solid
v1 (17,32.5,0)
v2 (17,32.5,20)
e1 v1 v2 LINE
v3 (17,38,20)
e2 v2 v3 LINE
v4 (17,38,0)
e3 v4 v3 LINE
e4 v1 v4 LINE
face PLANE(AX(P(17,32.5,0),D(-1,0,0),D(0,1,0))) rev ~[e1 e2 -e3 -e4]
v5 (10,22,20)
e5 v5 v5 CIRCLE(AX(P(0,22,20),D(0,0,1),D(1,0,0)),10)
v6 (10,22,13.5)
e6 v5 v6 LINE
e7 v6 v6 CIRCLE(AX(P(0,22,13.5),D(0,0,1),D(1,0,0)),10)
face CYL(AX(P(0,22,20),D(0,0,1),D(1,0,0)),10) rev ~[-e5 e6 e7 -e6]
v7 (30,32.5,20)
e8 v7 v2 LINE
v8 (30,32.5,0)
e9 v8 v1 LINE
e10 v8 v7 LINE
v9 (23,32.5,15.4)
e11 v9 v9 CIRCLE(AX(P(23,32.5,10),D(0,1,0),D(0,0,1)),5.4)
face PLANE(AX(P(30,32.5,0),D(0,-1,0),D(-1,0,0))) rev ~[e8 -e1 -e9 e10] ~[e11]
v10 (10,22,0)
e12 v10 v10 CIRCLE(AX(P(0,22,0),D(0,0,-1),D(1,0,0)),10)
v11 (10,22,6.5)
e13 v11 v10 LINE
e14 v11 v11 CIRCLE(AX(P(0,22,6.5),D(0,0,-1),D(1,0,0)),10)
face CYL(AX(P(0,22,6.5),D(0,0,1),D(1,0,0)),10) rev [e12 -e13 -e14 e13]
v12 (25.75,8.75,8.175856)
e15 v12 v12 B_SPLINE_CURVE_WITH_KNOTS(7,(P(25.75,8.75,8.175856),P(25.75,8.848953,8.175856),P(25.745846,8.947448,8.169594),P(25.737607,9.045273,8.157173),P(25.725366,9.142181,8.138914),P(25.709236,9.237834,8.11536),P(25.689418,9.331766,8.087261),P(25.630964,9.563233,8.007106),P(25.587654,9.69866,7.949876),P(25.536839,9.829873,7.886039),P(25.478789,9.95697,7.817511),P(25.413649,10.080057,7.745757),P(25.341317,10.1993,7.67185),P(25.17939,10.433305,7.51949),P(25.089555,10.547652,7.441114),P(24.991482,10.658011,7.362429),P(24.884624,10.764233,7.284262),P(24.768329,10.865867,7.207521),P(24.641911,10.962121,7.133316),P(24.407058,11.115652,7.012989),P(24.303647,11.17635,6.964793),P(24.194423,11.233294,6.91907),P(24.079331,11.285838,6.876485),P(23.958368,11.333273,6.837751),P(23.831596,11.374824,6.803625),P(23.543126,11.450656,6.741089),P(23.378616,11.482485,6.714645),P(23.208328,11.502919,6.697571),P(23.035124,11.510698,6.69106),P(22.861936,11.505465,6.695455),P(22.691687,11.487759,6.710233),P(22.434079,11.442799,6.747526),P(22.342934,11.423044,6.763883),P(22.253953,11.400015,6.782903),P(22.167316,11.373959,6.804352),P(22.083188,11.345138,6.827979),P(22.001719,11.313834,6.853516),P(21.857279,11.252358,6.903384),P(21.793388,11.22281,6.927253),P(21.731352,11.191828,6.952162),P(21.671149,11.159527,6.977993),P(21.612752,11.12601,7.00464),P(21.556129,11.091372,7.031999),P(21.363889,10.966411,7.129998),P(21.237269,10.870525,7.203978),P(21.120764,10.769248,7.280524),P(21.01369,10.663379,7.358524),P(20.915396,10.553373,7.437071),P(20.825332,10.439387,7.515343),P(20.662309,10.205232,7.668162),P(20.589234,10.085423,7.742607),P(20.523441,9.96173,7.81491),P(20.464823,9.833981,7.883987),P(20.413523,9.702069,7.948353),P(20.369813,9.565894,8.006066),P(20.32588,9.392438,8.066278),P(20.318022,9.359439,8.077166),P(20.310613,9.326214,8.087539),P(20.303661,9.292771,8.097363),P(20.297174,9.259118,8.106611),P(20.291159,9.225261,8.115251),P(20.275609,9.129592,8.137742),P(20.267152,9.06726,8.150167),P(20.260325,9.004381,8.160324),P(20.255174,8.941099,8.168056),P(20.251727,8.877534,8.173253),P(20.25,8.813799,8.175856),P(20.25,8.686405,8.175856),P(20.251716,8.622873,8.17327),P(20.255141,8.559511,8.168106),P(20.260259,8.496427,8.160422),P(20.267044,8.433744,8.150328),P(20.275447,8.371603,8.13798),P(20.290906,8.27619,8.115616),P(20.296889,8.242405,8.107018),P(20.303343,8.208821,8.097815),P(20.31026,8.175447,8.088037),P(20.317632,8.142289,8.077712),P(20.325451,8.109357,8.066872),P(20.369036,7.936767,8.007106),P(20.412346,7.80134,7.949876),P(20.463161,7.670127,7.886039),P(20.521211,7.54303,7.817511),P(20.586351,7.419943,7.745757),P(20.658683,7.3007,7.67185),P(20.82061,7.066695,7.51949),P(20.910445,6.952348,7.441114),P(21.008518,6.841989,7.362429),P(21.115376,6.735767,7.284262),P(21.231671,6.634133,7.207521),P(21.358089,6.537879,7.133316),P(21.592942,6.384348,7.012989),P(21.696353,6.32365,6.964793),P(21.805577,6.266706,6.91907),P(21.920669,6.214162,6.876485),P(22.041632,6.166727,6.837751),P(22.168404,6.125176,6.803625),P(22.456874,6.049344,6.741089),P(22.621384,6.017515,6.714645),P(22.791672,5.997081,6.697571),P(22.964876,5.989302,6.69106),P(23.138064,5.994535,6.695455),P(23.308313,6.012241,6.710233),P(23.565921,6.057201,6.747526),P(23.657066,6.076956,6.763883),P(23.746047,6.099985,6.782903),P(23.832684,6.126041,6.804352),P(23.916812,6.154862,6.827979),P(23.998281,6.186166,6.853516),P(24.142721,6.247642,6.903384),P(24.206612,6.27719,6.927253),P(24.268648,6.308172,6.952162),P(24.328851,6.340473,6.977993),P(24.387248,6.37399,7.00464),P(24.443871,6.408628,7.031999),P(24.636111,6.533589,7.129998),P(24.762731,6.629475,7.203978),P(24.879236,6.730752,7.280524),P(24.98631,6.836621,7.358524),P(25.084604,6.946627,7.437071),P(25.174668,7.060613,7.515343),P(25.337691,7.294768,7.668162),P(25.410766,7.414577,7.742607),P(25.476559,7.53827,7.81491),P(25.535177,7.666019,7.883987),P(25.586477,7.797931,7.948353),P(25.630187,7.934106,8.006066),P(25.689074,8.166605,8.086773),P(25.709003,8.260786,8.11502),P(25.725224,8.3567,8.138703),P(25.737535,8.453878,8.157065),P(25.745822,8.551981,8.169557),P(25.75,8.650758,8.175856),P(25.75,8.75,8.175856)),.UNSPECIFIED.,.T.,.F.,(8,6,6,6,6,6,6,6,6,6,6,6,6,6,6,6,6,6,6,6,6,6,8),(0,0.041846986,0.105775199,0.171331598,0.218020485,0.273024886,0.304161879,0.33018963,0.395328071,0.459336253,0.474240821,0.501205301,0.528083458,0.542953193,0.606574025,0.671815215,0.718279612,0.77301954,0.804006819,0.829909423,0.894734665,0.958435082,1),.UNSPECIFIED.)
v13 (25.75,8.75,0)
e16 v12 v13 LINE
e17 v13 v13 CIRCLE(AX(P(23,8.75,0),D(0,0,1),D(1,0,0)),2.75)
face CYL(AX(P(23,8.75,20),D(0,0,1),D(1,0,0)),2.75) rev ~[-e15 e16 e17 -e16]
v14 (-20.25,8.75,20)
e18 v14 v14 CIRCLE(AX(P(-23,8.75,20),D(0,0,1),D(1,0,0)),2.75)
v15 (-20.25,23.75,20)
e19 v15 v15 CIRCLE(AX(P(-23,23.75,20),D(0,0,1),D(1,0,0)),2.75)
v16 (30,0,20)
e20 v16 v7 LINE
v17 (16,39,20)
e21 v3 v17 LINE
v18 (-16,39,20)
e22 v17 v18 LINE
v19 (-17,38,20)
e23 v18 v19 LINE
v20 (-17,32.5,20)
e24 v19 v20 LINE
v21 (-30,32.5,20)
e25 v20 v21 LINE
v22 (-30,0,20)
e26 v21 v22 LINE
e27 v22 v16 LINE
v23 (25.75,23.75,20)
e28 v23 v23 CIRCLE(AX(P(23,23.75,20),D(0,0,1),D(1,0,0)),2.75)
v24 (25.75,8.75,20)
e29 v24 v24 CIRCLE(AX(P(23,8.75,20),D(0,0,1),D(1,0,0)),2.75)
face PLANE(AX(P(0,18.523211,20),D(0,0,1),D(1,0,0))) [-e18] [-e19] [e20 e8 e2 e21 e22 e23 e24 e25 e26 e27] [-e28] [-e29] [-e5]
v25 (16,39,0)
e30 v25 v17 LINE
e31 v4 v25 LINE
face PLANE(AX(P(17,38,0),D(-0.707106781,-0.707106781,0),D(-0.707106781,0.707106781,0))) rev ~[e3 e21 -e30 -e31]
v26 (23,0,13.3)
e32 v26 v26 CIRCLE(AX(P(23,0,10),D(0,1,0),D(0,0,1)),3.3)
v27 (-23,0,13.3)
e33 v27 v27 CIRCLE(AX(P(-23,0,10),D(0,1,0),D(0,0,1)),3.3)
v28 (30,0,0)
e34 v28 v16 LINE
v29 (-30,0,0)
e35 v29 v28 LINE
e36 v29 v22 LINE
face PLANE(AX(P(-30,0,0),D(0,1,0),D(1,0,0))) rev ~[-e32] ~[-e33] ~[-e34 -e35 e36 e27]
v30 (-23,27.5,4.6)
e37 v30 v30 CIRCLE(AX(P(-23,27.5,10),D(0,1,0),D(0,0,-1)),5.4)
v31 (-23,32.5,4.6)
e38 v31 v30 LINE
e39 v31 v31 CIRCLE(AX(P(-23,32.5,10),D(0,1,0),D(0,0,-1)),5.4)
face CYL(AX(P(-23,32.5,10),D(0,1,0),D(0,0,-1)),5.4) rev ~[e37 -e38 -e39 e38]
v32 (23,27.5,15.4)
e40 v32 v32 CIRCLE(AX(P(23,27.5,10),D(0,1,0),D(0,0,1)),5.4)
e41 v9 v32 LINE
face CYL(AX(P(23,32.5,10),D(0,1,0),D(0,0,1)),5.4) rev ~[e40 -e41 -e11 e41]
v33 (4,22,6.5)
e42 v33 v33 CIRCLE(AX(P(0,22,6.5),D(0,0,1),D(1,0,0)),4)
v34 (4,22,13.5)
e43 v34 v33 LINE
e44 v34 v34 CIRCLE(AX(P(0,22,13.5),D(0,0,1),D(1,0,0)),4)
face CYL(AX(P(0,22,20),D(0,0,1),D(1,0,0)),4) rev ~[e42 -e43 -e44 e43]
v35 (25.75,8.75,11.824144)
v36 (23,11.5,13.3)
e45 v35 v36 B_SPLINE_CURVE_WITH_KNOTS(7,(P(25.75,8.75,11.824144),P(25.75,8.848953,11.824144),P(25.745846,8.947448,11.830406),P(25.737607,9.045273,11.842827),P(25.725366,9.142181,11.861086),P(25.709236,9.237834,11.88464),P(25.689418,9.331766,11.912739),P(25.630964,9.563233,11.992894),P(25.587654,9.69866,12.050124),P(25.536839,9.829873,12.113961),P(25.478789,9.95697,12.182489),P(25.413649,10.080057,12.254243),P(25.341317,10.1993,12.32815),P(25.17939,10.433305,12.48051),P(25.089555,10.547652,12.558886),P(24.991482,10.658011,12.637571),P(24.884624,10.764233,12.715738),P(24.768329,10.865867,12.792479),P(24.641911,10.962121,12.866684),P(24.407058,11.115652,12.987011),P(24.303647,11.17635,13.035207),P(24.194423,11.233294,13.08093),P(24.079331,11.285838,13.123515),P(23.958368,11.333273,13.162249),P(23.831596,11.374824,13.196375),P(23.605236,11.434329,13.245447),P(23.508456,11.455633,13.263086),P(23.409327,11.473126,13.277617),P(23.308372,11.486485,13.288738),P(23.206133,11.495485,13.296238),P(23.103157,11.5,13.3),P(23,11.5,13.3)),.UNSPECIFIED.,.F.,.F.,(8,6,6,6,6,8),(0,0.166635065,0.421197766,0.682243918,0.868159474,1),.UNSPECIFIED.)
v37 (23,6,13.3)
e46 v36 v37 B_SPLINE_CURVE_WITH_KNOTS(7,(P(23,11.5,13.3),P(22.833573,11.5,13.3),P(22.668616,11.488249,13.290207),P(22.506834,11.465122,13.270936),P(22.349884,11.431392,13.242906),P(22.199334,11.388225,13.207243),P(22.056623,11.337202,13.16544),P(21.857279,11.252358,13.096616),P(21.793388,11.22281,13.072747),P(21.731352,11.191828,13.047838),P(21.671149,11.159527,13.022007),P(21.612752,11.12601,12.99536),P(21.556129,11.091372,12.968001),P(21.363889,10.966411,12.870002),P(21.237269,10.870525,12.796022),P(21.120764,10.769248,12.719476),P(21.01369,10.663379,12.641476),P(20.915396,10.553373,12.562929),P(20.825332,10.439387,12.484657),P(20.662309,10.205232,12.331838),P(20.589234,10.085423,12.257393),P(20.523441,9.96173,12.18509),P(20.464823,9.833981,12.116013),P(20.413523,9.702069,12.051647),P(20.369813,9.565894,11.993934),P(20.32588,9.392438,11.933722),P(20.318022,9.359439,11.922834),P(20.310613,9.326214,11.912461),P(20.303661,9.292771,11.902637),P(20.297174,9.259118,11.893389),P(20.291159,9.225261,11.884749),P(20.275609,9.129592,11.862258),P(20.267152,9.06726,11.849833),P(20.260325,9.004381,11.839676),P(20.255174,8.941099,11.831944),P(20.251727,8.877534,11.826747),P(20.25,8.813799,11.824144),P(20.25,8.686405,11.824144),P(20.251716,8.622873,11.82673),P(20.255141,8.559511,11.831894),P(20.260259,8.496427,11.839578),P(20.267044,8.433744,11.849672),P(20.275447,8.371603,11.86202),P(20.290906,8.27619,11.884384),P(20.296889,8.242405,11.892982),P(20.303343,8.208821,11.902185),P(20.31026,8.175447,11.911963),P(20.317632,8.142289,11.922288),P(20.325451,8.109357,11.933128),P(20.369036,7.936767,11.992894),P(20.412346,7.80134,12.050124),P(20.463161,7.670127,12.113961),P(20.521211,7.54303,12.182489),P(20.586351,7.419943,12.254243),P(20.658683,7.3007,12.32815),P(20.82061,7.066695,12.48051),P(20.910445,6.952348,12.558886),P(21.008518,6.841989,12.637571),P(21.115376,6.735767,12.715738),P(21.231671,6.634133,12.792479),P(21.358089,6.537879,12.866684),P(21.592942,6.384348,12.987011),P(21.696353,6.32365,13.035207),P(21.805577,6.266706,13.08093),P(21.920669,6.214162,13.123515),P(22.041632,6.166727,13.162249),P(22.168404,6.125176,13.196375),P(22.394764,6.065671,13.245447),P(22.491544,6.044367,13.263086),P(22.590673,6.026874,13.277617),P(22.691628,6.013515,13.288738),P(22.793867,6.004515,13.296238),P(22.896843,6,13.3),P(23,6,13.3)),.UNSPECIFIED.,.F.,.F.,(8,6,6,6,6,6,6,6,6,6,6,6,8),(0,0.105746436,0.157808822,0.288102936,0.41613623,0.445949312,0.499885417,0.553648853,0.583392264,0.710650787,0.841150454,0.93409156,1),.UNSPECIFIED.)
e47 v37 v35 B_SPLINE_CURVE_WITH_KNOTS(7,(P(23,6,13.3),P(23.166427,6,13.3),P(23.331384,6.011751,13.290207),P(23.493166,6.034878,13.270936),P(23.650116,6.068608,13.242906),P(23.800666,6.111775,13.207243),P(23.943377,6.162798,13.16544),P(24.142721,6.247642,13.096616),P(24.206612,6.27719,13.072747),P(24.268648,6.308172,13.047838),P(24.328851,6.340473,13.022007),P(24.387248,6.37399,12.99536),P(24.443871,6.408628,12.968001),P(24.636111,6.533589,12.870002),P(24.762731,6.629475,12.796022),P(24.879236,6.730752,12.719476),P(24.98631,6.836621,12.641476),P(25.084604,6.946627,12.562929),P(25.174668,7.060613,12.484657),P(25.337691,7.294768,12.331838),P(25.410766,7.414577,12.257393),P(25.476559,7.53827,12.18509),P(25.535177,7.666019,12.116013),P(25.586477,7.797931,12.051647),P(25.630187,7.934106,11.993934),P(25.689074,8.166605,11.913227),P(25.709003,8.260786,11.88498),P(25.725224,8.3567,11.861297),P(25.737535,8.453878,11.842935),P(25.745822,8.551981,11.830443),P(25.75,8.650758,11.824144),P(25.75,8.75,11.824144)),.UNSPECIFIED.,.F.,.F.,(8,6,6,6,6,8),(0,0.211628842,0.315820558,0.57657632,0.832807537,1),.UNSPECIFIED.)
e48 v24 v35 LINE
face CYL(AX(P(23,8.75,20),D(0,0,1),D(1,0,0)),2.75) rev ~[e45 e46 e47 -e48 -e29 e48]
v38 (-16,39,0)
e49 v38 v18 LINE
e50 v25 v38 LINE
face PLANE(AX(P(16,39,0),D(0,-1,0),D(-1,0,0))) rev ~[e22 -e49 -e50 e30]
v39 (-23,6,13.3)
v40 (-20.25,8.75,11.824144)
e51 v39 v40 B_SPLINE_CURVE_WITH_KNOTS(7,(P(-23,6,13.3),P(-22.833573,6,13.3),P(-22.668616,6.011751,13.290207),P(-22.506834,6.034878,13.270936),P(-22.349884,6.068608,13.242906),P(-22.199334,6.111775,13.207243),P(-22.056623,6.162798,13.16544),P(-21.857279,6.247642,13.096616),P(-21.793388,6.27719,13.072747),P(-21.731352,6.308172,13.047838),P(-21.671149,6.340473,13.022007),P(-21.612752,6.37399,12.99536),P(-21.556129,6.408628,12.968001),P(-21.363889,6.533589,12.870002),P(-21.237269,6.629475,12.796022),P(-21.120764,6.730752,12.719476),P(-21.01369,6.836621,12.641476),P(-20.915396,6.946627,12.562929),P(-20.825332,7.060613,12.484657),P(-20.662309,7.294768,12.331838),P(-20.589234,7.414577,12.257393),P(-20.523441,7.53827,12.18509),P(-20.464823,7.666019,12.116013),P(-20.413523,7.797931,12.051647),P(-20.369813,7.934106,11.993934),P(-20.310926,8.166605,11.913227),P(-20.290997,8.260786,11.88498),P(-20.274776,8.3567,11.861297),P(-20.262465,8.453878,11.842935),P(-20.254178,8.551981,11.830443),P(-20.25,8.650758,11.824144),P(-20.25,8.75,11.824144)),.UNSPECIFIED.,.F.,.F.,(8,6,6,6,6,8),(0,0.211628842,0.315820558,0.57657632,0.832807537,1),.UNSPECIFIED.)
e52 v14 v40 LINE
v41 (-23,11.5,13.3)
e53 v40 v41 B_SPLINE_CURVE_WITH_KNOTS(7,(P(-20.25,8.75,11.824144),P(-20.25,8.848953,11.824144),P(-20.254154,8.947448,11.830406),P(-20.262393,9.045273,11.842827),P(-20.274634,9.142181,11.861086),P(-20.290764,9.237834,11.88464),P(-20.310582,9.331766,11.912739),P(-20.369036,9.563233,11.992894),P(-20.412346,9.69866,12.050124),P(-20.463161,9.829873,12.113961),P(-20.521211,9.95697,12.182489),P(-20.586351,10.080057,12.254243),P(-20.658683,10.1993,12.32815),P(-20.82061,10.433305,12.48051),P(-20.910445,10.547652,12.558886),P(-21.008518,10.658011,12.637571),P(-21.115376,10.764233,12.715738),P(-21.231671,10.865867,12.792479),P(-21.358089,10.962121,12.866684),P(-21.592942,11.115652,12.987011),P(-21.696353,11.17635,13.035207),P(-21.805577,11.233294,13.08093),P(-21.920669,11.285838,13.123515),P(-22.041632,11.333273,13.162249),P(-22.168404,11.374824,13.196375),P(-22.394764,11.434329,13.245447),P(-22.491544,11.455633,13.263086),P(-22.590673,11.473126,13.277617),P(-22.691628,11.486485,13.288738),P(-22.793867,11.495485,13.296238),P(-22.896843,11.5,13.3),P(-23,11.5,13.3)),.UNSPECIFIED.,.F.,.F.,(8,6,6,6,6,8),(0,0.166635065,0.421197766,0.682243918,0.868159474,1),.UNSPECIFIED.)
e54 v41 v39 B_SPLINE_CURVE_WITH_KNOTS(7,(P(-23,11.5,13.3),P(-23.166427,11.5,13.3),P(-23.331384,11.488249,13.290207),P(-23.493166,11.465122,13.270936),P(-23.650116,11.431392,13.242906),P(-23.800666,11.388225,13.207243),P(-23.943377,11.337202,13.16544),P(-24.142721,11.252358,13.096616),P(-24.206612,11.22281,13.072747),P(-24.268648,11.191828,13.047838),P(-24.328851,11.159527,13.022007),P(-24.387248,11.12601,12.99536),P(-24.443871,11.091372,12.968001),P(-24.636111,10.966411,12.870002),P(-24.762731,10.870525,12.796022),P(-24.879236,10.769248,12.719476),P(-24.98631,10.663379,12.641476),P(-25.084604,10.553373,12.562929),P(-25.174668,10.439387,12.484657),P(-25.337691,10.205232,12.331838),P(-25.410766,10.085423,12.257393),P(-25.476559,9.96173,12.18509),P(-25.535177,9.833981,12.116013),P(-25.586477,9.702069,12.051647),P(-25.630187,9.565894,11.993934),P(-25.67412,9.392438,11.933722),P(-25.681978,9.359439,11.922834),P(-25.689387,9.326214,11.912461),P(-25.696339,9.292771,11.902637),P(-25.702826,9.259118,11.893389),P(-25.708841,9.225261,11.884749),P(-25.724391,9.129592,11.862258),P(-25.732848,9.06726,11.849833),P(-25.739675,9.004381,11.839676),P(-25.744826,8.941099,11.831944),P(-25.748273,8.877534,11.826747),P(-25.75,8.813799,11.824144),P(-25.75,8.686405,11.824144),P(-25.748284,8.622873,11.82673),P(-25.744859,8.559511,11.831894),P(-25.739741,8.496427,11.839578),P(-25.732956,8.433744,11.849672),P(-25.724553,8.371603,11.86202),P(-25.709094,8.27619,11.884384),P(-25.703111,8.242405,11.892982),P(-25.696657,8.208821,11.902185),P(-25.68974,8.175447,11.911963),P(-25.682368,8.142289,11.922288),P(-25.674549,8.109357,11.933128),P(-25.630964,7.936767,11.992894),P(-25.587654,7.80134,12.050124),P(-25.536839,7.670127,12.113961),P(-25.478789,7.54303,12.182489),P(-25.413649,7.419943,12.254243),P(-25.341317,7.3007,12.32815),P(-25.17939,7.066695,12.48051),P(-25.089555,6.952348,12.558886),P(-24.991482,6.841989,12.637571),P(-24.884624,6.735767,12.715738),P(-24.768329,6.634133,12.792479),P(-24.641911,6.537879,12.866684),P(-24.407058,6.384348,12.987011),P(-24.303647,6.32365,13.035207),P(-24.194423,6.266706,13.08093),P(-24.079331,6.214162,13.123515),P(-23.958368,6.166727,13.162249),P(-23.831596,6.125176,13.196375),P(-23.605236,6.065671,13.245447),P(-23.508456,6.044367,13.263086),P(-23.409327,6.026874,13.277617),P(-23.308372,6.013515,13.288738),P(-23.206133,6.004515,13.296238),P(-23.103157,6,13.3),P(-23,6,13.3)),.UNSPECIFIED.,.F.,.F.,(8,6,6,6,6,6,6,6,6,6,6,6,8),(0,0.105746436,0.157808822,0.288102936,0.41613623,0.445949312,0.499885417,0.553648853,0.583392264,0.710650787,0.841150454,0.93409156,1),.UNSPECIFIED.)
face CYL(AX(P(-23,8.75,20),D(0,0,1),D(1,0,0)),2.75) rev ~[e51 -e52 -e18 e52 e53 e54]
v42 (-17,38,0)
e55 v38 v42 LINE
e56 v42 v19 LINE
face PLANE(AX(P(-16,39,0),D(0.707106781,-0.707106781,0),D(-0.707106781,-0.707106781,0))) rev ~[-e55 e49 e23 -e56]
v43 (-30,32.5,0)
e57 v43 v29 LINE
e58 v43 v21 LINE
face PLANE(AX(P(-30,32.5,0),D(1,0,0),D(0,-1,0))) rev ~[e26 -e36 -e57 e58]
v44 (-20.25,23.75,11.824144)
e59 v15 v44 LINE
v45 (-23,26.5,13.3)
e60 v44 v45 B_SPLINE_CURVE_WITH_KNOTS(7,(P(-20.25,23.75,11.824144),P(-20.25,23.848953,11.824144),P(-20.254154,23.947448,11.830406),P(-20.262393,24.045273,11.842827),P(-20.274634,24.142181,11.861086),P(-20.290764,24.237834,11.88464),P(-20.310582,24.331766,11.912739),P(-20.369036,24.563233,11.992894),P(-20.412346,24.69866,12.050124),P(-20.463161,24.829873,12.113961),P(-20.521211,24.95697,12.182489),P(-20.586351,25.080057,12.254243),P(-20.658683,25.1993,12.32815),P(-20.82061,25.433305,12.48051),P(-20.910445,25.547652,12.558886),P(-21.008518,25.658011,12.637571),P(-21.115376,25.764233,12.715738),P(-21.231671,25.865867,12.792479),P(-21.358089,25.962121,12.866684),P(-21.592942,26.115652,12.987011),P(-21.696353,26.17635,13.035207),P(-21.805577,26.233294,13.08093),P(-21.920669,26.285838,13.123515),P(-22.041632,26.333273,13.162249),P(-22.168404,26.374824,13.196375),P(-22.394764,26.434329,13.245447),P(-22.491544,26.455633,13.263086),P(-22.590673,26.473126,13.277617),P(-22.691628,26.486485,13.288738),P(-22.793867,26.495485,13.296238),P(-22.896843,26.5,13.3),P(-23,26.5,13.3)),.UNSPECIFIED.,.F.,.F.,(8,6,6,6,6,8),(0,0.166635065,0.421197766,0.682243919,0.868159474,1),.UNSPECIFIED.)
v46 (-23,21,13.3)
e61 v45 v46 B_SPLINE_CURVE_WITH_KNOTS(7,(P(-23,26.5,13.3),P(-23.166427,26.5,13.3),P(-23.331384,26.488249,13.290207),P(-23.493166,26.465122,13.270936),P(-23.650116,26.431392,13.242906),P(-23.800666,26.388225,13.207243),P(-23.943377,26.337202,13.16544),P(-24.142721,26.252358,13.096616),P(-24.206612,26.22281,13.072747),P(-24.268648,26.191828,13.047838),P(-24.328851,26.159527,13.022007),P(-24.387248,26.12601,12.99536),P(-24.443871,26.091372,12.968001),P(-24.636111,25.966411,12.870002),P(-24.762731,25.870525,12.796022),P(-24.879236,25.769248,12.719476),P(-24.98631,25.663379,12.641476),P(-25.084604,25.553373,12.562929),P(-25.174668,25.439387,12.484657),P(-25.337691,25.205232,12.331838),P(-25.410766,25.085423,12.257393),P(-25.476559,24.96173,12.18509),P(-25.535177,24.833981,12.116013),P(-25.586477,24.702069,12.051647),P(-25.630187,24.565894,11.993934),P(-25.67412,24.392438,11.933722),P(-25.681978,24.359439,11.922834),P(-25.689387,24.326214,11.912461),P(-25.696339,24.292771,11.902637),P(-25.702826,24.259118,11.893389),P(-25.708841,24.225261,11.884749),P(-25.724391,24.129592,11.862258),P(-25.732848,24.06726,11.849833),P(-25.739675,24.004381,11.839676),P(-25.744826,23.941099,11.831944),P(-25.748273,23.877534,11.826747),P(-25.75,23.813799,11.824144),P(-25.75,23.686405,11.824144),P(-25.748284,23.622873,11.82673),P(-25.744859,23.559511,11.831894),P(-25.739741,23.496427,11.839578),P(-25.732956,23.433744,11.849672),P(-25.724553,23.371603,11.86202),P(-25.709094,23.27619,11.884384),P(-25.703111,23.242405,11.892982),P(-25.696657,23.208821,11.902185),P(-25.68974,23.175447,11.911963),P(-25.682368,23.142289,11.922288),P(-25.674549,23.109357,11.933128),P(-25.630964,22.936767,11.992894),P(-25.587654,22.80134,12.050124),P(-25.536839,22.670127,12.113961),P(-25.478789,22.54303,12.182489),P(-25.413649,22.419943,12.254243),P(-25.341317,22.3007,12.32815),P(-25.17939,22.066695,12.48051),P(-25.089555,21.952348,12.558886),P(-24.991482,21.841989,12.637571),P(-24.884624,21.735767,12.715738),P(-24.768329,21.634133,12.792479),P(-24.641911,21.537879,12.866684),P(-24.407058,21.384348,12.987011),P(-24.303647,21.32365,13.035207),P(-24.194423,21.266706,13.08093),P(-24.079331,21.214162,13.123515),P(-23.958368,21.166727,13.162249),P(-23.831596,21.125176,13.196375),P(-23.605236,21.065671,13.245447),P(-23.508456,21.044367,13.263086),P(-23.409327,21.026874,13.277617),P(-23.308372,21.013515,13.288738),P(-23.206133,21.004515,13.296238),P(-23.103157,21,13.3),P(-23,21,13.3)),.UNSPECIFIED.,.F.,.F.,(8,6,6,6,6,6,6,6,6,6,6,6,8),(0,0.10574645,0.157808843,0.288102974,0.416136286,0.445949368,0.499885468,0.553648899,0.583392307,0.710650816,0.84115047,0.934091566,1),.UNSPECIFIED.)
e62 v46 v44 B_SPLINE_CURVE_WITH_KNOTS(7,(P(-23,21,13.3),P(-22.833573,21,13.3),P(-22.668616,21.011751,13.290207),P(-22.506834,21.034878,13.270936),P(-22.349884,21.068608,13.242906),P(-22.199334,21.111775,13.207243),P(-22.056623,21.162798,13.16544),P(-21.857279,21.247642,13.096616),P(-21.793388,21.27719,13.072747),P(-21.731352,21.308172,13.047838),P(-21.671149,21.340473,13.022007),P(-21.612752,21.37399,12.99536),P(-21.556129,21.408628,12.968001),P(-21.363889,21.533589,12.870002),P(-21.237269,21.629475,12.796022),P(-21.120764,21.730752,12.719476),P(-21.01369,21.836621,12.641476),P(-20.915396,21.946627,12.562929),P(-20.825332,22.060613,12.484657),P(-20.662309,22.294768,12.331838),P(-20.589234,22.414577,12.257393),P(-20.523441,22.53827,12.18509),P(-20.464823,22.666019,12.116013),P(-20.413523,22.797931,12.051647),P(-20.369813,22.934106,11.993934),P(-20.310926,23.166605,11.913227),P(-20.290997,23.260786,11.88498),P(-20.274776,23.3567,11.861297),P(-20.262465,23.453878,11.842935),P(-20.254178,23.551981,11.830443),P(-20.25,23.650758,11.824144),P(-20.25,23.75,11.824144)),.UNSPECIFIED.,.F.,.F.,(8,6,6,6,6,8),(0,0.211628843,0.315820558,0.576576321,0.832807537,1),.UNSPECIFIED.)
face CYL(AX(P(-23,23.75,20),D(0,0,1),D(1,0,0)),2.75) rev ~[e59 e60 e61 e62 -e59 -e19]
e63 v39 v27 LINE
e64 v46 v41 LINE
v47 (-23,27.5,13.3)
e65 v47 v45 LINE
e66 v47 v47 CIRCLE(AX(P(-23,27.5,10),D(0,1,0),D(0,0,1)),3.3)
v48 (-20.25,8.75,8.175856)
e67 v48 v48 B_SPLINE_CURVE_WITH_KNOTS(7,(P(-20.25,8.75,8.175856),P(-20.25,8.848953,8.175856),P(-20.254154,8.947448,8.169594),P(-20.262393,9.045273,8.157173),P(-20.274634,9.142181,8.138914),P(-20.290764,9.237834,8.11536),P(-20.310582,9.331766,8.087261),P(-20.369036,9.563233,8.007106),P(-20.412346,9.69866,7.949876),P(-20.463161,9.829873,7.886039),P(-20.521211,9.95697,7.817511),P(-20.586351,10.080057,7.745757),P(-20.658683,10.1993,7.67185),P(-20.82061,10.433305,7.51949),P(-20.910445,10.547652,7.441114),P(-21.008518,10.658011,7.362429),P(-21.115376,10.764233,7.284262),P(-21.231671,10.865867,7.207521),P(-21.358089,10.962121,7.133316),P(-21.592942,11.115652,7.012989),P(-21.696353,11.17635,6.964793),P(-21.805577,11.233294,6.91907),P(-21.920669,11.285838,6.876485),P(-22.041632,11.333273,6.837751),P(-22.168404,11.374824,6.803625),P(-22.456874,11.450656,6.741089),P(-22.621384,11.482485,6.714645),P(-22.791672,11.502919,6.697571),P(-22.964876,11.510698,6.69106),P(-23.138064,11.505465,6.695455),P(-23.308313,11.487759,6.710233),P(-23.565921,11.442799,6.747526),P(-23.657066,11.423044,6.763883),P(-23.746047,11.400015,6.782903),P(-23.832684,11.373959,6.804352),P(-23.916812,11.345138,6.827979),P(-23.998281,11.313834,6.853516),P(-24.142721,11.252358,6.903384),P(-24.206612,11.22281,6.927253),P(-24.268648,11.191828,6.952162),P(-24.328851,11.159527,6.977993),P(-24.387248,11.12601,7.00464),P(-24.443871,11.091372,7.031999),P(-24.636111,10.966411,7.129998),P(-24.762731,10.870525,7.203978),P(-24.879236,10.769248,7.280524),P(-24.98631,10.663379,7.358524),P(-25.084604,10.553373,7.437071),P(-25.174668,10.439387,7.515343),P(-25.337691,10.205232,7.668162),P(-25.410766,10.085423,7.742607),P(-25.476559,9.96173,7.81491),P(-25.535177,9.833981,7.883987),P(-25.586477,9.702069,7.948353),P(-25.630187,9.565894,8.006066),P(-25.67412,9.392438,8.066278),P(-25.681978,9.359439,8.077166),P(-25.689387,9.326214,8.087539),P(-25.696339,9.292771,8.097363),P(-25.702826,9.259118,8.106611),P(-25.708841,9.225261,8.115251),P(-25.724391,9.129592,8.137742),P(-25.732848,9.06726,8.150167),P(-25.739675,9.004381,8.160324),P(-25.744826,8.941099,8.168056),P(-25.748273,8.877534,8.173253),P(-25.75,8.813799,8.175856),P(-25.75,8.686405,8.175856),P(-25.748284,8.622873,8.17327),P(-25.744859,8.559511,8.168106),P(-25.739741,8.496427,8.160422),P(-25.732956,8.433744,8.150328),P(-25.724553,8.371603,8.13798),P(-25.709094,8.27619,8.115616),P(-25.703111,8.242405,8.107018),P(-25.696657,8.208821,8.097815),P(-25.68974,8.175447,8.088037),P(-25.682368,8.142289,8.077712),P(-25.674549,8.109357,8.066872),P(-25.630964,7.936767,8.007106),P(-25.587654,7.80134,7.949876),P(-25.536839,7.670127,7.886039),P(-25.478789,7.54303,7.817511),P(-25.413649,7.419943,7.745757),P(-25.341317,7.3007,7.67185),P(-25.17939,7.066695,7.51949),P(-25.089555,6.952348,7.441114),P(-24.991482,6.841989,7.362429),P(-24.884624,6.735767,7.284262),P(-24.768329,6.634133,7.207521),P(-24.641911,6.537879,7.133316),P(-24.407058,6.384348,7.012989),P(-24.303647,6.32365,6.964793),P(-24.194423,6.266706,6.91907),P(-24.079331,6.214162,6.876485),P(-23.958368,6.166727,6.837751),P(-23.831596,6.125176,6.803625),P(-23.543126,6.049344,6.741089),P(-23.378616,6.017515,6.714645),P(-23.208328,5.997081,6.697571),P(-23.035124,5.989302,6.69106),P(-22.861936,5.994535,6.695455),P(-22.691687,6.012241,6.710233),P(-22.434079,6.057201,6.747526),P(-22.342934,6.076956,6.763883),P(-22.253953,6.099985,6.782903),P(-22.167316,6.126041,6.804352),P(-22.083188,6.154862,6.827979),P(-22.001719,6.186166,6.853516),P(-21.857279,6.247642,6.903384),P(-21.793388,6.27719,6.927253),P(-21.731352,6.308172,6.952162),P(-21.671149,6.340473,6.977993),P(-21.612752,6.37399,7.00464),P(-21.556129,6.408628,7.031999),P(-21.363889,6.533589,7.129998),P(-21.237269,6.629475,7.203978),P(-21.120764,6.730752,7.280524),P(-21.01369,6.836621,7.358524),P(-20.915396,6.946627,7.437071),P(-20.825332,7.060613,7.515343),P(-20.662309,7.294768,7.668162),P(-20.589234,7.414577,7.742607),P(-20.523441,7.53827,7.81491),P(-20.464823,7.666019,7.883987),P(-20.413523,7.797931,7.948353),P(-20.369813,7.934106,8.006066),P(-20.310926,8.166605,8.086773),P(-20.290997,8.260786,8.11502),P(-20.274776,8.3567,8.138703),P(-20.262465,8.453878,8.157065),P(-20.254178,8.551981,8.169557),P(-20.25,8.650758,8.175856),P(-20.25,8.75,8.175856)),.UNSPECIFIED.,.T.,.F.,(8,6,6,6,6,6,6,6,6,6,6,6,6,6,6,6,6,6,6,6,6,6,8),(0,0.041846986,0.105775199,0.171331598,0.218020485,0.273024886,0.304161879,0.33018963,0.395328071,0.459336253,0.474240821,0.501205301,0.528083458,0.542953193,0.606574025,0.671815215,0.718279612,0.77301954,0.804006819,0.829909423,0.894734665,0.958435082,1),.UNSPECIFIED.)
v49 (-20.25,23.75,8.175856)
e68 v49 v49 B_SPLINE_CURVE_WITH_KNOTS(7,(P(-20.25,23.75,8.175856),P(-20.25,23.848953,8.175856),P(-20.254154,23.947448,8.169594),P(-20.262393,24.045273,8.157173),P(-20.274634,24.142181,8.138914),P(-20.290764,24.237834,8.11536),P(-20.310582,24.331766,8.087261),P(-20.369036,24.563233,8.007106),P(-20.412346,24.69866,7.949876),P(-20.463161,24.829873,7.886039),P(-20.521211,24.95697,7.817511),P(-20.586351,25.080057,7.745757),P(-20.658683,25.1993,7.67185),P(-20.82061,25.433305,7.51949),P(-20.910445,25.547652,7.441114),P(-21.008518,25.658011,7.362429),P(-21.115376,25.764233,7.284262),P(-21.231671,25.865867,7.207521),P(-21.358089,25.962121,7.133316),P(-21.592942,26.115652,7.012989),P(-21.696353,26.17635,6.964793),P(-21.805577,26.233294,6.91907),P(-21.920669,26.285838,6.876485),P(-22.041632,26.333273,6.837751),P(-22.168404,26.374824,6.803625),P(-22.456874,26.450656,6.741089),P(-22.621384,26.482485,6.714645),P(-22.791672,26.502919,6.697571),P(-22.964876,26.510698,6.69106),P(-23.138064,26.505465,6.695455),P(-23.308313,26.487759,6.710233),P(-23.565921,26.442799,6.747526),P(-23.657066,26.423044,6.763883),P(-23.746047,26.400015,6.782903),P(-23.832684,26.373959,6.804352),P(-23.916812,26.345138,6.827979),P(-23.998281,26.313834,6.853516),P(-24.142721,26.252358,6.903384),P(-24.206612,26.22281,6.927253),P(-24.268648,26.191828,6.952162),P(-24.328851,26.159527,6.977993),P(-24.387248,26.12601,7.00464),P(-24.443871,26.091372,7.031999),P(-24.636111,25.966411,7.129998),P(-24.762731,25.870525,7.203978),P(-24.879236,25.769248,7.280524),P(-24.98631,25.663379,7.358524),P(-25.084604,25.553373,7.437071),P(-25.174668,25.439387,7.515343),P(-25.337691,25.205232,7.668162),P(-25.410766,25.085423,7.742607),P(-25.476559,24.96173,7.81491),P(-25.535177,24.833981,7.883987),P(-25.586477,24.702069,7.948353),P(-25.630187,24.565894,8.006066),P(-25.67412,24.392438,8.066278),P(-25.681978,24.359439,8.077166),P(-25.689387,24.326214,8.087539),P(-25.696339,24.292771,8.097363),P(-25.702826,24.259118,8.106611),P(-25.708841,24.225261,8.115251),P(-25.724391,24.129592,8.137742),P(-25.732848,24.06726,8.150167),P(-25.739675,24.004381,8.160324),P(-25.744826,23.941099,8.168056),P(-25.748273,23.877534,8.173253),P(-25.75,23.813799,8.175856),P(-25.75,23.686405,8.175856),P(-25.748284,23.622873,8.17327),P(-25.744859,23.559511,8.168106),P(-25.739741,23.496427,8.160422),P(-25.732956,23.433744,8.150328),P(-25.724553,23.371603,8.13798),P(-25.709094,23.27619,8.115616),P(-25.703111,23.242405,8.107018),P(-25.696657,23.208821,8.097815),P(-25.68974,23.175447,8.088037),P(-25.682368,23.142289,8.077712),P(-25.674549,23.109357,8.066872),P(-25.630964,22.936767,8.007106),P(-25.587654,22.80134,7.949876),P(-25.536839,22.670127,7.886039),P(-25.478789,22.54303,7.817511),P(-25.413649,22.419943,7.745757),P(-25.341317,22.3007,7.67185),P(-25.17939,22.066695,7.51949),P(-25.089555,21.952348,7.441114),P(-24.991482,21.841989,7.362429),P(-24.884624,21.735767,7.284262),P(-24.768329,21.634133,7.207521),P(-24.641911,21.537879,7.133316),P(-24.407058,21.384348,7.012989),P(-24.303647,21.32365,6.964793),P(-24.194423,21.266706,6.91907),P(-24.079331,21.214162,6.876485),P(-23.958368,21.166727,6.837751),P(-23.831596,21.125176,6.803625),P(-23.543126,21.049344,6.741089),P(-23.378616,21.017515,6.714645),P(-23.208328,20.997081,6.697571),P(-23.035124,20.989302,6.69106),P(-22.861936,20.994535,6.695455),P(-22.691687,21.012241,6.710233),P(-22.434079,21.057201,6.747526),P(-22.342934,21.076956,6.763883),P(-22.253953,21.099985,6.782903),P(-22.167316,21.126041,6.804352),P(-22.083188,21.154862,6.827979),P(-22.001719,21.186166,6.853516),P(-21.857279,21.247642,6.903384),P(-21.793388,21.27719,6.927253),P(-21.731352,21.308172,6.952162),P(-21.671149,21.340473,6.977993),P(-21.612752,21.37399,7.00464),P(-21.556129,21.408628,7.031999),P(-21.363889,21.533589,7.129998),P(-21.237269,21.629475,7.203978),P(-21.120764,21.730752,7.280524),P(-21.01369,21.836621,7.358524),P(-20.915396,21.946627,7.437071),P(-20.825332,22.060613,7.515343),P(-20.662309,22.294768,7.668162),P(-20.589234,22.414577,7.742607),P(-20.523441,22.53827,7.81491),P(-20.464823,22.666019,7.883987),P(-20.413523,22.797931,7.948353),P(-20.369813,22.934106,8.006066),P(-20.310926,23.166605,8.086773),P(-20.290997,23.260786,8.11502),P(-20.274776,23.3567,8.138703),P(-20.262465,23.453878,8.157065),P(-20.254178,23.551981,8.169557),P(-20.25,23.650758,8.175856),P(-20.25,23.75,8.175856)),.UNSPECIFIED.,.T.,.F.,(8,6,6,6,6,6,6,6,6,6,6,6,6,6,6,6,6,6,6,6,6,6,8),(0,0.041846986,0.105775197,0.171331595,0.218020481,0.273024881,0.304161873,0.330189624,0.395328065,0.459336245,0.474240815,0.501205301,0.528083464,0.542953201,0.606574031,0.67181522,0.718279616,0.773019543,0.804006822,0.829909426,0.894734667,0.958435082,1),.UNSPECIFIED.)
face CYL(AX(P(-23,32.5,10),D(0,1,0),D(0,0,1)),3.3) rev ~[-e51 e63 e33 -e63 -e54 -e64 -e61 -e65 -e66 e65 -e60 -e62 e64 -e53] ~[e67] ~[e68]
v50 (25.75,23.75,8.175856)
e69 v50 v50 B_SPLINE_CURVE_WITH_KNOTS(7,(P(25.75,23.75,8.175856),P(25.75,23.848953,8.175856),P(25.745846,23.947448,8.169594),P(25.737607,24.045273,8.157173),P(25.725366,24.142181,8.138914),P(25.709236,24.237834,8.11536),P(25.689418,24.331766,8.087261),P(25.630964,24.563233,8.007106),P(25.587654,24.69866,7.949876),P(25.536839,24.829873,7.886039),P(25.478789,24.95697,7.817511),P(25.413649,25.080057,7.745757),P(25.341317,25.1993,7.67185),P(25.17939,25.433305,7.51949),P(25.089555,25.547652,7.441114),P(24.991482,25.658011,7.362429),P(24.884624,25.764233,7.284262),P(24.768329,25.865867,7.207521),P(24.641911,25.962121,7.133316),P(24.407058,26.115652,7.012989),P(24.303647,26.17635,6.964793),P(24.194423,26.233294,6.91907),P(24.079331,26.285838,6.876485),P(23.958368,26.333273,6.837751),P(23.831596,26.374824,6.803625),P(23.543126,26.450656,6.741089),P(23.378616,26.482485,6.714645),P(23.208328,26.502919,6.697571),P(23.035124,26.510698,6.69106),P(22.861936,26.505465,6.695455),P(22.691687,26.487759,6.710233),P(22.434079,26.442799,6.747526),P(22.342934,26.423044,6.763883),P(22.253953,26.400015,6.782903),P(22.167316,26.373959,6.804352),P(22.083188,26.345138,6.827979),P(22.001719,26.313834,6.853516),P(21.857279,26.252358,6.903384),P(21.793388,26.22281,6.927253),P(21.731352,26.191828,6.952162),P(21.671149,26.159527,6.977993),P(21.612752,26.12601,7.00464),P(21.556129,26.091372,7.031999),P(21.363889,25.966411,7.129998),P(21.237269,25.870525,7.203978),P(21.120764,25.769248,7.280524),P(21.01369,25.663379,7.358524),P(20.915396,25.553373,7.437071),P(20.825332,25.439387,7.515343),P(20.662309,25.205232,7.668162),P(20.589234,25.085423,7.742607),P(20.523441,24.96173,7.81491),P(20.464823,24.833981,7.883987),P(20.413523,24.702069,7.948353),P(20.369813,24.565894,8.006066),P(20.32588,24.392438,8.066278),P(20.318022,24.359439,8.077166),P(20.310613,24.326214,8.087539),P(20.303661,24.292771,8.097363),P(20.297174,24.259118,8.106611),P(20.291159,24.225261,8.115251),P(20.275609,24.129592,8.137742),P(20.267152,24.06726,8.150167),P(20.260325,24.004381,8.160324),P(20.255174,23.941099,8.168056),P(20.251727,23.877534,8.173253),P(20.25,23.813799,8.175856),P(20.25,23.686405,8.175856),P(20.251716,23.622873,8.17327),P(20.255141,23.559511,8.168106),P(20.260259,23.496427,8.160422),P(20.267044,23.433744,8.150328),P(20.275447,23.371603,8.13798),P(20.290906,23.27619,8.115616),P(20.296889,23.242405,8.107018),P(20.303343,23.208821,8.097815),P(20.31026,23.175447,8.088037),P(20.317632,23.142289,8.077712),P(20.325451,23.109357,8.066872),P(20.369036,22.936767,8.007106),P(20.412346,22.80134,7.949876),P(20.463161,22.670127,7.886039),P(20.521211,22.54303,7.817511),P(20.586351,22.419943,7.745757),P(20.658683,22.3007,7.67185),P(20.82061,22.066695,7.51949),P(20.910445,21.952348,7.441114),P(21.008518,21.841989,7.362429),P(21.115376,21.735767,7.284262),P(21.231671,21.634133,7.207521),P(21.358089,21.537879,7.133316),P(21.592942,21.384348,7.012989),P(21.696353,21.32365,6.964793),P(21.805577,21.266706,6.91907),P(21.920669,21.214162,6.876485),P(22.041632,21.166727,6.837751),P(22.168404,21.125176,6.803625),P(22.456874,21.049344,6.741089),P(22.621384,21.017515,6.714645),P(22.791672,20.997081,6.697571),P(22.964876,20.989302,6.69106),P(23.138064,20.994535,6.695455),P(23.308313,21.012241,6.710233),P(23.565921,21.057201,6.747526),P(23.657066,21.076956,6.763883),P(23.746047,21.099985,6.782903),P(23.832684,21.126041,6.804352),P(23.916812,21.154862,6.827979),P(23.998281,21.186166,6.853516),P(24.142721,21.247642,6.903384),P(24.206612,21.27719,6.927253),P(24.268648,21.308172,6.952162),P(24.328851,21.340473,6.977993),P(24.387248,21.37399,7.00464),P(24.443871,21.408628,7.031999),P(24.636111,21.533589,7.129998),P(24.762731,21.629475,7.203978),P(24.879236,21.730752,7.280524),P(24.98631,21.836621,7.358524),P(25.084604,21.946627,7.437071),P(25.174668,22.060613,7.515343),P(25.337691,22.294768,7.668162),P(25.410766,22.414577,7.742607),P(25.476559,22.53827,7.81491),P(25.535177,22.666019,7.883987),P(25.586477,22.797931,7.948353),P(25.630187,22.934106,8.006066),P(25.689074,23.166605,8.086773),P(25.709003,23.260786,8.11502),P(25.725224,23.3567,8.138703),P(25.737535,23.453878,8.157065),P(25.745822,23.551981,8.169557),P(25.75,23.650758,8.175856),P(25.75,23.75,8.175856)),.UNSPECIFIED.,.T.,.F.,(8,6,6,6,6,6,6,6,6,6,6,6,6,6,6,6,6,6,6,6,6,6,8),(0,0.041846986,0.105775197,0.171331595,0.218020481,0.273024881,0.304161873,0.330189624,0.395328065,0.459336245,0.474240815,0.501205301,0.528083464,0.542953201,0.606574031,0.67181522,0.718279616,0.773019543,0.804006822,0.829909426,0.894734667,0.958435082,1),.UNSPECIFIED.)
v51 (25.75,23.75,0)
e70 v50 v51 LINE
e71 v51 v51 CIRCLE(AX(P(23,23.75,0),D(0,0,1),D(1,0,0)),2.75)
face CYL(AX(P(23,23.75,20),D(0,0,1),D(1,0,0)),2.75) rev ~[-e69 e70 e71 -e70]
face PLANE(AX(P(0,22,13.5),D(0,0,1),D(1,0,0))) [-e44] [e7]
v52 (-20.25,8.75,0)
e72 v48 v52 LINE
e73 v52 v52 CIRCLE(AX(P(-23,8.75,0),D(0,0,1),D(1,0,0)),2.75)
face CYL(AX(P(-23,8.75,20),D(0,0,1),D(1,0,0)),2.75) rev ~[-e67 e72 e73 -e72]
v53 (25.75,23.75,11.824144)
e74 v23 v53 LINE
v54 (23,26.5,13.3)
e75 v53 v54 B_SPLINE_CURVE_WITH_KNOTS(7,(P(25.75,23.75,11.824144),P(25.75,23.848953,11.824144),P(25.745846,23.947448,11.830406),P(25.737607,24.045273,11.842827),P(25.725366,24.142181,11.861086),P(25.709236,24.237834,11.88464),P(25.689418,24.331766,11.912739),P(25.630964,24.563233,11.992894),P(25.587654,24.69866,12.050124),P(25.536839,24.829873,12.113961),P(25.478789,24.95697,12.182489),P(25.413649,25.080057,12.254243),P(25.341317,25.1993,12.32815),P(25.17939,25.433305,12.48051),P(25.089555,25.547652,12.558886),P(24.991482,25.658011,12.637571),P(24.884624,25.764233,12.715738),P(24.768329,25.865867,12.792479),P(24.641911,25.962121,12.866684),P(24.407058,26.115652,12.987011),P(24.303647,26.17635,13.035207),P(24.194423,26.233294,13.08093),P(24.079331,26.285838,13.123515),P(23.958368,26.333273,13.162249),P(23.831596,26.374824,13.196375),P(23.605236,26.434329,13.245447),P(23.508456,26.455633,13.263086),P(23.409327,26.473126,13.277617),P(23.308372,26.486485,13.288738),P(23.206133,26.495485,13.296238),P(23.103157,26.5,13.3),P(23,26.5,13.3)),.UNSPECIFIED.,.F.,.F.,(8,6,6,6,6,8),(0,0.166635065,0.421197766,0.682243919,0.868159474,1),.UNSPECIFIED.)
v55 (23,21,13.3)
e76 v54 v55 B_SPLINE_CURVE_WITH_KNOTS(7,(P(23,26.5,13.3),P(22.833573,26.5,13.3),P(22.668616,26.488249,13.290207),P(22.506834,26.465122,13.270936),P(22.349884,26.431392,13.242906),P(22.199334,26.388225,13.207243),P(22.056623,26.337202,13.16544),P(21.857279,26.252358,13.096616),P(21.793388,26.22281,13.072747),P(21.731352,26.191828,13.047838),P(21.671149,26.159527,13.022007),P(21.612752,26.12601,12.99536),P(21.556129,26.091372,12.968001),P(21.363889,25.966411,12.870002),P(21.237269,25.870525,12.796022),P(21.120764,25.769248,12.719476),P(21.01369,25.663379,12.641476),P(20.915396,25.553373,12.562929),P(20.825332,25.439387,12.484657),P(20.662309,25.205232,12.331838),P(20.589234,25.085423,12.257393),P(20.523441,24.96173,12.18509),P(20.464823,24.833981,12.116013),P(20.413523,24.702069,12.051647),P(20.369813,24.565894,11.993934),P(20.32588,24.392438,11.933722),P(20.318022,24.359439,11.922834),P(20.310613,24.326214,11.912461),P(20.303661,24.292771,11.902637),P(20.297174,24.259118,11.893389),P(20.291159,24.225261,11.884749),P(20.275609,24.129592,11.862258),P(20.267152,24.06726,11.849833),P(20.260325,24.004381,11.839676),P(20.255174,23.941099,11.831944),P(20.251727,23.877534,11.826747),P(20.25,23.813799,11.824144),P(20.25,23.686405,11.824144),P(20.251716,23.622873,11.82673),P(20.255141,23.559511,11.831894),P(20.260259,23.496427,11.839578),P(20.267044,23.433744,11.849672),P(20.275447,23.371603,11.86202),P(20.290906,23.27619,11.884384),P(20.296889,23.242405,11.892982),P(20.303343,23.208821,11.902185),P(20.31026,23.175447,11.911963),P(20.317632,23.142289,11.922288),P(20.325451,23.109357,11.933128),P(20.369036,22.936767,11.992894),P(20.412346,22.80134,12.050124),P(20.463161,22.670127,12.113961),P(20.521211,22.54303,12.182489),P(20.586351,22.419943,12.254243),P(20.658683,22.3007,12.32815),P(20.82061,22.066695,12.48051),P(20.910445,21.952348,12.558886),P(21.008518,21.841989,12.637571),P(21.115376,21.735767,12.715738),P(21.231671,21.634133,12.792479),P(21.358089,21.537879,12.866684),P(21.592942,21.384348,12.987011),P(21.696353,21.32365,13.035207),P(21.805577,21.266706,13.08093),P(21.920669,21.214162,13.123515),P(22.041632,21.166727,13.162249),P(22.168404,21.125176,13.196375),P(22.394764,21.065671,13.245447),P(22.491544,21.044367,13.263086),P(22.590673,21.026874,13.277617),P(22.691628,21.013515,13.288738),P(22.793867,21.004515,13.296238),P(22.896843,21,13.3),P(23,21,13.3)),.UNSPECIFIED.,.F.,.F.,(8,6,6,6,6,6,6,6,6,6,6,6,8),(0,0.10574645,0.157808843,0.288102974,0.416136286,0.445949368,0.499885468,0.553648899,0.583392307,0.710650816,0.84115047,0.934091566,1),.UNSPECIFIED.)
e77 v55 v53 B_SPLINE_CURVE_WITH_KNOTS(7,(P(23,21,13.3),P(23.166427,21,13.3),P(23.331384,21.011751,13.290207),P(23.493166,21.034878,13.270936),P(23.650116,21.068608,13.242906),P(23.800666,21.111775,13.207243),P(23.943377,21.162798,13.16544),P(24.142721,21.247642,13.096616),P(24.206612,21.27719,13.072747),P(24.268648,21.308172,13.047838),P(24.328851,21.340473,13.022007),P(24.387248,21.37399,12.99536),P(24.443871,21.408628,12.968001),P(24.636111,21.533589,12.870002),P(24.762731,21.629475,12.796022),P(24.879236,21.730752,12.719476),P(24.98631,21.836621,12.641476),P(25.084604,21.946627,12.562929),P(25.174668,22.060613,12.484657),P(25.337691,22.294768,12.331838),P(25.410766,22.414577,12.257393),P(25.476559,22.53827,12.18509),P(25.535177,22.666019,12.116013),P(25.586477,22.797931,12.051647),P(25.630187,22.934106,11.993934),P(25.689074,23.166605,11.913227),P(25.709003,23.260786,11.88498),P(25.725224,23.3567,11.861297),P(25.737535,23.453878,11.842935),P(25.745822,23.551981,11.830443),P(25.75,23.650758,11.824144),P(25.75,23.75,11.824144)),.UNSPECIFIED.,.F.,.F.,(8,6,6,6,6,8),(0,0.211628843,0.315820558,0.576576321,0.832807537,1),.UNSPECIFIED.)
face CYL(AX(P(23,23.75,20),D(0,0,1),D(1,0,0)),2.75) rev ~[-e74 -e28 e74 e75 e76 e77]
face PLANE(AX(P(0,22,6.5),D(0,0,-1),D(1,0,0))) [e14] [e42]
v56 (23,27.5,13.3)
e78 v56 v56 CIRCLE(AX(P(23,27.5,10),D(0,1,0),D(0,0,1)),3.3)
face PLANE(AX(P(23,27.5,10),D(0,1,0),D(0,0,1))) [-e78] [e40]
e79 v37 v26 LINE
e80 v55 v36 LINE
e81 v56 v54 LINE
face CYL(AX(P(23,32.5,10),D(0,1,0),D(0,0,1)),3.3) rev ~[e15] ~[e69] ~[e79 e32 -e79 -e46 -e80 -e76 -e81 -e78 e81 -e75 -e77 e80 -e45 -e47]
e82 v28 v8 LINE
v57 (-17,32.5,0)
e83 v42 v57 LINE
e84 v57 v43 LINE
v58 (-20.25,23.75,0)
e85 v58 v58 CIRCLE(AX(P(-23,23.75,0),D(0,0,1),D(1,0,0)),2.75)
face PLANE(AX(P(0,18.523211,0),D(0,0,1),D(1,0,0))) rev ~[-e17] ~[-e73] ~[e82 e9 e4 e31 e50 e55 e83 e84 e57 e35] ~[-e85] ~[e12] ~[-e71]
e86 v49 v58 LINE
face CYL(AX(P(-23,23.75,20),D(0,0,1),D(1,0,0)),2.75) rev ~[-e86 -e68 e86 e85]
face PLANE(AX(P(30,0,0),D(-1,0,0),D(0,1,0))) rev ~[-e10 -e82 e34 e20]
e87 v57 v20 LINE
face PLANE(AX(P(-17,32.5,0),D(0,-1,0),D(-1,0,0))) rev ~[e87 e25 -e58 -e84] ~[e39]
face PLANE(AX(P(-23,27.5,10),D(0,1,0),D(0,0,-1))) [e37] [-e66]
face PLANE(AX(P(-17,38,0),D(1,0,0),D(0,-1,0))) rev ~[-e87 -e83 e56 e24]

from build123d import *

# Parameters (mm, degrees)
AUFSATZ_LINEAR_AUSTRAGEN1_DEPTH = 20
SKIZZE4_R                       = 3.3
SCHNITT_LINEAR_AUSTRAGEN2_DEPTH = 50
SKIZZE5_R                       = 5.4
SCHNITT_LINEAR_AUSTRAGEN3_DEPTH = 5
SKIZZE6_R                       = 2.75
SCHNITT_LINEAR_AUSTRAGEN4_DEPTH = 50
SKIZZE7_R                       = 4
SCHNITT_LINEAR_AUSTRAGEN5_DEPTH = 50
SKIZZE8_R                       = 10
SCHNITT_LINEAR_AUSTRAGEN6_DEPTH = 6.5
SCHNITT_LINEAR_START            = -6.5
SKIZZE9_R                       = 10
SCHNITT_LINEAR_AUSTRAGEN7_DEPTH = 6.5


with BuildPart() as part:
    # Skizze1 → Aufsatz-Linear austragen1 (new body)
    with BuildSketch(Plane.XY):
        Polygon((-30, 0), (30, 0), (30, 32.5), (17, 32.5), (17, 38), (16, 39), (-16, 39), (-17, 38), (-17, 32.5), (-30, 32.5), align=None)
    extrude(amount=AUFSATZ_LINEAR_AUSTRAGEN1_DEPTH)

    # Skizze4 → Schnitt-Linear austragen2 (cut)
    with BuildSketch(Plane(origin=(0, 32.5, 0), x_dir=(1, 0, 0), z_dir=(0, 1, 0))):
        with Locations(Location((23, -10, 0), (0, 0, 270))):
            Circle(SKIZZE4_R)
        with Locations(Location((-23, -10, 0), (0, 0, 270))):
            Circle(SKIZZE4_R)
    extrude(amount=-SCHNITT_LINEAR_AUSTRAGEN2_DEPTH, mode=Mode.SUBTRACT)

    # Skizze5 → Schnitt-Linear austragen3 (cut)
    with BuildSketch(Plane(origin=(0, 32.5, 0), x_dir=(1, 0, 0), z_dir=(0, 1, 0))):
        with Locations(Location((23, -10, 0), (0, 0, 270))):
            Circle(SKIZZE5_R)
        with Locations(Location((-23, -10, 0), (0, 0, 90))):
            Circle(SKIZZE5_R)
    extrude(amount=-SCHNITT_LINEAR_AUSTRAGEN3_DEPTH, mode=Mode.SUBTRACT)

    # Skizze6 → Schnitt-Linear austragen4 (cut)
    with BuildSketch(Plane.XY.offset(20)):
        with Locations((23, 23.75)):
            Circle(SKIZZE6_R)
        with Locations((23, 8.75)):
            Circle(SKIZZE6_R)
        with Locations((-23, 23.75)):
            Circle(SKIZZE6_R)
        with Locations((-23, 8.75)):
            Circle(SKIZZE6_R)
    extrude(amount=-SCHNITT_LINEAR_AUSTRAGEN4_DEPTH, mode=Mode.SUBTRACT)

    # Skizze7 → Schnitt-Linear austragen5 (cut)
    with BuildSketch(Plane.XY.offset(20)):
        with Locations((0, 22)):
            Circle(SKIZZE7_R)
    extrude(amount=-SCHNITT_LINEAR_AUSTRAGEN5_DEPTH, mode=Mode.SUBTRACT)

    # Skizze8 → Schnitt-Linear austragen6 (cut)
    with BuildSketch(Plane.XY.offset(20)):
        with Locations((0, 22)):
            Circle(SKIZZE8_R)
    extrude(amount=-SCHNITT_LINEAR_AUSTRAGEN6_DEPTH, mode=Mode.SUBTRACT)

    # Skizze9 → Schnitt-Linear austragen7 (cut)
    with BuildSketch(Plane(origin=(0, 0, 0), x_dir=(-1, 0, 0), z_dir=(0, 0, -1)).offset(SCHNITT_LINEAR_START)):
        with Locations(Location((0, 22, 0), (0, 0, 180))):
            Circle(SKIZZE9_R)
    extrude(amount=SCHNITT_LINEAR_AUSTRAGEN7_DEPTH, mode=Mode.SUBTRACT)


solid = part.part
